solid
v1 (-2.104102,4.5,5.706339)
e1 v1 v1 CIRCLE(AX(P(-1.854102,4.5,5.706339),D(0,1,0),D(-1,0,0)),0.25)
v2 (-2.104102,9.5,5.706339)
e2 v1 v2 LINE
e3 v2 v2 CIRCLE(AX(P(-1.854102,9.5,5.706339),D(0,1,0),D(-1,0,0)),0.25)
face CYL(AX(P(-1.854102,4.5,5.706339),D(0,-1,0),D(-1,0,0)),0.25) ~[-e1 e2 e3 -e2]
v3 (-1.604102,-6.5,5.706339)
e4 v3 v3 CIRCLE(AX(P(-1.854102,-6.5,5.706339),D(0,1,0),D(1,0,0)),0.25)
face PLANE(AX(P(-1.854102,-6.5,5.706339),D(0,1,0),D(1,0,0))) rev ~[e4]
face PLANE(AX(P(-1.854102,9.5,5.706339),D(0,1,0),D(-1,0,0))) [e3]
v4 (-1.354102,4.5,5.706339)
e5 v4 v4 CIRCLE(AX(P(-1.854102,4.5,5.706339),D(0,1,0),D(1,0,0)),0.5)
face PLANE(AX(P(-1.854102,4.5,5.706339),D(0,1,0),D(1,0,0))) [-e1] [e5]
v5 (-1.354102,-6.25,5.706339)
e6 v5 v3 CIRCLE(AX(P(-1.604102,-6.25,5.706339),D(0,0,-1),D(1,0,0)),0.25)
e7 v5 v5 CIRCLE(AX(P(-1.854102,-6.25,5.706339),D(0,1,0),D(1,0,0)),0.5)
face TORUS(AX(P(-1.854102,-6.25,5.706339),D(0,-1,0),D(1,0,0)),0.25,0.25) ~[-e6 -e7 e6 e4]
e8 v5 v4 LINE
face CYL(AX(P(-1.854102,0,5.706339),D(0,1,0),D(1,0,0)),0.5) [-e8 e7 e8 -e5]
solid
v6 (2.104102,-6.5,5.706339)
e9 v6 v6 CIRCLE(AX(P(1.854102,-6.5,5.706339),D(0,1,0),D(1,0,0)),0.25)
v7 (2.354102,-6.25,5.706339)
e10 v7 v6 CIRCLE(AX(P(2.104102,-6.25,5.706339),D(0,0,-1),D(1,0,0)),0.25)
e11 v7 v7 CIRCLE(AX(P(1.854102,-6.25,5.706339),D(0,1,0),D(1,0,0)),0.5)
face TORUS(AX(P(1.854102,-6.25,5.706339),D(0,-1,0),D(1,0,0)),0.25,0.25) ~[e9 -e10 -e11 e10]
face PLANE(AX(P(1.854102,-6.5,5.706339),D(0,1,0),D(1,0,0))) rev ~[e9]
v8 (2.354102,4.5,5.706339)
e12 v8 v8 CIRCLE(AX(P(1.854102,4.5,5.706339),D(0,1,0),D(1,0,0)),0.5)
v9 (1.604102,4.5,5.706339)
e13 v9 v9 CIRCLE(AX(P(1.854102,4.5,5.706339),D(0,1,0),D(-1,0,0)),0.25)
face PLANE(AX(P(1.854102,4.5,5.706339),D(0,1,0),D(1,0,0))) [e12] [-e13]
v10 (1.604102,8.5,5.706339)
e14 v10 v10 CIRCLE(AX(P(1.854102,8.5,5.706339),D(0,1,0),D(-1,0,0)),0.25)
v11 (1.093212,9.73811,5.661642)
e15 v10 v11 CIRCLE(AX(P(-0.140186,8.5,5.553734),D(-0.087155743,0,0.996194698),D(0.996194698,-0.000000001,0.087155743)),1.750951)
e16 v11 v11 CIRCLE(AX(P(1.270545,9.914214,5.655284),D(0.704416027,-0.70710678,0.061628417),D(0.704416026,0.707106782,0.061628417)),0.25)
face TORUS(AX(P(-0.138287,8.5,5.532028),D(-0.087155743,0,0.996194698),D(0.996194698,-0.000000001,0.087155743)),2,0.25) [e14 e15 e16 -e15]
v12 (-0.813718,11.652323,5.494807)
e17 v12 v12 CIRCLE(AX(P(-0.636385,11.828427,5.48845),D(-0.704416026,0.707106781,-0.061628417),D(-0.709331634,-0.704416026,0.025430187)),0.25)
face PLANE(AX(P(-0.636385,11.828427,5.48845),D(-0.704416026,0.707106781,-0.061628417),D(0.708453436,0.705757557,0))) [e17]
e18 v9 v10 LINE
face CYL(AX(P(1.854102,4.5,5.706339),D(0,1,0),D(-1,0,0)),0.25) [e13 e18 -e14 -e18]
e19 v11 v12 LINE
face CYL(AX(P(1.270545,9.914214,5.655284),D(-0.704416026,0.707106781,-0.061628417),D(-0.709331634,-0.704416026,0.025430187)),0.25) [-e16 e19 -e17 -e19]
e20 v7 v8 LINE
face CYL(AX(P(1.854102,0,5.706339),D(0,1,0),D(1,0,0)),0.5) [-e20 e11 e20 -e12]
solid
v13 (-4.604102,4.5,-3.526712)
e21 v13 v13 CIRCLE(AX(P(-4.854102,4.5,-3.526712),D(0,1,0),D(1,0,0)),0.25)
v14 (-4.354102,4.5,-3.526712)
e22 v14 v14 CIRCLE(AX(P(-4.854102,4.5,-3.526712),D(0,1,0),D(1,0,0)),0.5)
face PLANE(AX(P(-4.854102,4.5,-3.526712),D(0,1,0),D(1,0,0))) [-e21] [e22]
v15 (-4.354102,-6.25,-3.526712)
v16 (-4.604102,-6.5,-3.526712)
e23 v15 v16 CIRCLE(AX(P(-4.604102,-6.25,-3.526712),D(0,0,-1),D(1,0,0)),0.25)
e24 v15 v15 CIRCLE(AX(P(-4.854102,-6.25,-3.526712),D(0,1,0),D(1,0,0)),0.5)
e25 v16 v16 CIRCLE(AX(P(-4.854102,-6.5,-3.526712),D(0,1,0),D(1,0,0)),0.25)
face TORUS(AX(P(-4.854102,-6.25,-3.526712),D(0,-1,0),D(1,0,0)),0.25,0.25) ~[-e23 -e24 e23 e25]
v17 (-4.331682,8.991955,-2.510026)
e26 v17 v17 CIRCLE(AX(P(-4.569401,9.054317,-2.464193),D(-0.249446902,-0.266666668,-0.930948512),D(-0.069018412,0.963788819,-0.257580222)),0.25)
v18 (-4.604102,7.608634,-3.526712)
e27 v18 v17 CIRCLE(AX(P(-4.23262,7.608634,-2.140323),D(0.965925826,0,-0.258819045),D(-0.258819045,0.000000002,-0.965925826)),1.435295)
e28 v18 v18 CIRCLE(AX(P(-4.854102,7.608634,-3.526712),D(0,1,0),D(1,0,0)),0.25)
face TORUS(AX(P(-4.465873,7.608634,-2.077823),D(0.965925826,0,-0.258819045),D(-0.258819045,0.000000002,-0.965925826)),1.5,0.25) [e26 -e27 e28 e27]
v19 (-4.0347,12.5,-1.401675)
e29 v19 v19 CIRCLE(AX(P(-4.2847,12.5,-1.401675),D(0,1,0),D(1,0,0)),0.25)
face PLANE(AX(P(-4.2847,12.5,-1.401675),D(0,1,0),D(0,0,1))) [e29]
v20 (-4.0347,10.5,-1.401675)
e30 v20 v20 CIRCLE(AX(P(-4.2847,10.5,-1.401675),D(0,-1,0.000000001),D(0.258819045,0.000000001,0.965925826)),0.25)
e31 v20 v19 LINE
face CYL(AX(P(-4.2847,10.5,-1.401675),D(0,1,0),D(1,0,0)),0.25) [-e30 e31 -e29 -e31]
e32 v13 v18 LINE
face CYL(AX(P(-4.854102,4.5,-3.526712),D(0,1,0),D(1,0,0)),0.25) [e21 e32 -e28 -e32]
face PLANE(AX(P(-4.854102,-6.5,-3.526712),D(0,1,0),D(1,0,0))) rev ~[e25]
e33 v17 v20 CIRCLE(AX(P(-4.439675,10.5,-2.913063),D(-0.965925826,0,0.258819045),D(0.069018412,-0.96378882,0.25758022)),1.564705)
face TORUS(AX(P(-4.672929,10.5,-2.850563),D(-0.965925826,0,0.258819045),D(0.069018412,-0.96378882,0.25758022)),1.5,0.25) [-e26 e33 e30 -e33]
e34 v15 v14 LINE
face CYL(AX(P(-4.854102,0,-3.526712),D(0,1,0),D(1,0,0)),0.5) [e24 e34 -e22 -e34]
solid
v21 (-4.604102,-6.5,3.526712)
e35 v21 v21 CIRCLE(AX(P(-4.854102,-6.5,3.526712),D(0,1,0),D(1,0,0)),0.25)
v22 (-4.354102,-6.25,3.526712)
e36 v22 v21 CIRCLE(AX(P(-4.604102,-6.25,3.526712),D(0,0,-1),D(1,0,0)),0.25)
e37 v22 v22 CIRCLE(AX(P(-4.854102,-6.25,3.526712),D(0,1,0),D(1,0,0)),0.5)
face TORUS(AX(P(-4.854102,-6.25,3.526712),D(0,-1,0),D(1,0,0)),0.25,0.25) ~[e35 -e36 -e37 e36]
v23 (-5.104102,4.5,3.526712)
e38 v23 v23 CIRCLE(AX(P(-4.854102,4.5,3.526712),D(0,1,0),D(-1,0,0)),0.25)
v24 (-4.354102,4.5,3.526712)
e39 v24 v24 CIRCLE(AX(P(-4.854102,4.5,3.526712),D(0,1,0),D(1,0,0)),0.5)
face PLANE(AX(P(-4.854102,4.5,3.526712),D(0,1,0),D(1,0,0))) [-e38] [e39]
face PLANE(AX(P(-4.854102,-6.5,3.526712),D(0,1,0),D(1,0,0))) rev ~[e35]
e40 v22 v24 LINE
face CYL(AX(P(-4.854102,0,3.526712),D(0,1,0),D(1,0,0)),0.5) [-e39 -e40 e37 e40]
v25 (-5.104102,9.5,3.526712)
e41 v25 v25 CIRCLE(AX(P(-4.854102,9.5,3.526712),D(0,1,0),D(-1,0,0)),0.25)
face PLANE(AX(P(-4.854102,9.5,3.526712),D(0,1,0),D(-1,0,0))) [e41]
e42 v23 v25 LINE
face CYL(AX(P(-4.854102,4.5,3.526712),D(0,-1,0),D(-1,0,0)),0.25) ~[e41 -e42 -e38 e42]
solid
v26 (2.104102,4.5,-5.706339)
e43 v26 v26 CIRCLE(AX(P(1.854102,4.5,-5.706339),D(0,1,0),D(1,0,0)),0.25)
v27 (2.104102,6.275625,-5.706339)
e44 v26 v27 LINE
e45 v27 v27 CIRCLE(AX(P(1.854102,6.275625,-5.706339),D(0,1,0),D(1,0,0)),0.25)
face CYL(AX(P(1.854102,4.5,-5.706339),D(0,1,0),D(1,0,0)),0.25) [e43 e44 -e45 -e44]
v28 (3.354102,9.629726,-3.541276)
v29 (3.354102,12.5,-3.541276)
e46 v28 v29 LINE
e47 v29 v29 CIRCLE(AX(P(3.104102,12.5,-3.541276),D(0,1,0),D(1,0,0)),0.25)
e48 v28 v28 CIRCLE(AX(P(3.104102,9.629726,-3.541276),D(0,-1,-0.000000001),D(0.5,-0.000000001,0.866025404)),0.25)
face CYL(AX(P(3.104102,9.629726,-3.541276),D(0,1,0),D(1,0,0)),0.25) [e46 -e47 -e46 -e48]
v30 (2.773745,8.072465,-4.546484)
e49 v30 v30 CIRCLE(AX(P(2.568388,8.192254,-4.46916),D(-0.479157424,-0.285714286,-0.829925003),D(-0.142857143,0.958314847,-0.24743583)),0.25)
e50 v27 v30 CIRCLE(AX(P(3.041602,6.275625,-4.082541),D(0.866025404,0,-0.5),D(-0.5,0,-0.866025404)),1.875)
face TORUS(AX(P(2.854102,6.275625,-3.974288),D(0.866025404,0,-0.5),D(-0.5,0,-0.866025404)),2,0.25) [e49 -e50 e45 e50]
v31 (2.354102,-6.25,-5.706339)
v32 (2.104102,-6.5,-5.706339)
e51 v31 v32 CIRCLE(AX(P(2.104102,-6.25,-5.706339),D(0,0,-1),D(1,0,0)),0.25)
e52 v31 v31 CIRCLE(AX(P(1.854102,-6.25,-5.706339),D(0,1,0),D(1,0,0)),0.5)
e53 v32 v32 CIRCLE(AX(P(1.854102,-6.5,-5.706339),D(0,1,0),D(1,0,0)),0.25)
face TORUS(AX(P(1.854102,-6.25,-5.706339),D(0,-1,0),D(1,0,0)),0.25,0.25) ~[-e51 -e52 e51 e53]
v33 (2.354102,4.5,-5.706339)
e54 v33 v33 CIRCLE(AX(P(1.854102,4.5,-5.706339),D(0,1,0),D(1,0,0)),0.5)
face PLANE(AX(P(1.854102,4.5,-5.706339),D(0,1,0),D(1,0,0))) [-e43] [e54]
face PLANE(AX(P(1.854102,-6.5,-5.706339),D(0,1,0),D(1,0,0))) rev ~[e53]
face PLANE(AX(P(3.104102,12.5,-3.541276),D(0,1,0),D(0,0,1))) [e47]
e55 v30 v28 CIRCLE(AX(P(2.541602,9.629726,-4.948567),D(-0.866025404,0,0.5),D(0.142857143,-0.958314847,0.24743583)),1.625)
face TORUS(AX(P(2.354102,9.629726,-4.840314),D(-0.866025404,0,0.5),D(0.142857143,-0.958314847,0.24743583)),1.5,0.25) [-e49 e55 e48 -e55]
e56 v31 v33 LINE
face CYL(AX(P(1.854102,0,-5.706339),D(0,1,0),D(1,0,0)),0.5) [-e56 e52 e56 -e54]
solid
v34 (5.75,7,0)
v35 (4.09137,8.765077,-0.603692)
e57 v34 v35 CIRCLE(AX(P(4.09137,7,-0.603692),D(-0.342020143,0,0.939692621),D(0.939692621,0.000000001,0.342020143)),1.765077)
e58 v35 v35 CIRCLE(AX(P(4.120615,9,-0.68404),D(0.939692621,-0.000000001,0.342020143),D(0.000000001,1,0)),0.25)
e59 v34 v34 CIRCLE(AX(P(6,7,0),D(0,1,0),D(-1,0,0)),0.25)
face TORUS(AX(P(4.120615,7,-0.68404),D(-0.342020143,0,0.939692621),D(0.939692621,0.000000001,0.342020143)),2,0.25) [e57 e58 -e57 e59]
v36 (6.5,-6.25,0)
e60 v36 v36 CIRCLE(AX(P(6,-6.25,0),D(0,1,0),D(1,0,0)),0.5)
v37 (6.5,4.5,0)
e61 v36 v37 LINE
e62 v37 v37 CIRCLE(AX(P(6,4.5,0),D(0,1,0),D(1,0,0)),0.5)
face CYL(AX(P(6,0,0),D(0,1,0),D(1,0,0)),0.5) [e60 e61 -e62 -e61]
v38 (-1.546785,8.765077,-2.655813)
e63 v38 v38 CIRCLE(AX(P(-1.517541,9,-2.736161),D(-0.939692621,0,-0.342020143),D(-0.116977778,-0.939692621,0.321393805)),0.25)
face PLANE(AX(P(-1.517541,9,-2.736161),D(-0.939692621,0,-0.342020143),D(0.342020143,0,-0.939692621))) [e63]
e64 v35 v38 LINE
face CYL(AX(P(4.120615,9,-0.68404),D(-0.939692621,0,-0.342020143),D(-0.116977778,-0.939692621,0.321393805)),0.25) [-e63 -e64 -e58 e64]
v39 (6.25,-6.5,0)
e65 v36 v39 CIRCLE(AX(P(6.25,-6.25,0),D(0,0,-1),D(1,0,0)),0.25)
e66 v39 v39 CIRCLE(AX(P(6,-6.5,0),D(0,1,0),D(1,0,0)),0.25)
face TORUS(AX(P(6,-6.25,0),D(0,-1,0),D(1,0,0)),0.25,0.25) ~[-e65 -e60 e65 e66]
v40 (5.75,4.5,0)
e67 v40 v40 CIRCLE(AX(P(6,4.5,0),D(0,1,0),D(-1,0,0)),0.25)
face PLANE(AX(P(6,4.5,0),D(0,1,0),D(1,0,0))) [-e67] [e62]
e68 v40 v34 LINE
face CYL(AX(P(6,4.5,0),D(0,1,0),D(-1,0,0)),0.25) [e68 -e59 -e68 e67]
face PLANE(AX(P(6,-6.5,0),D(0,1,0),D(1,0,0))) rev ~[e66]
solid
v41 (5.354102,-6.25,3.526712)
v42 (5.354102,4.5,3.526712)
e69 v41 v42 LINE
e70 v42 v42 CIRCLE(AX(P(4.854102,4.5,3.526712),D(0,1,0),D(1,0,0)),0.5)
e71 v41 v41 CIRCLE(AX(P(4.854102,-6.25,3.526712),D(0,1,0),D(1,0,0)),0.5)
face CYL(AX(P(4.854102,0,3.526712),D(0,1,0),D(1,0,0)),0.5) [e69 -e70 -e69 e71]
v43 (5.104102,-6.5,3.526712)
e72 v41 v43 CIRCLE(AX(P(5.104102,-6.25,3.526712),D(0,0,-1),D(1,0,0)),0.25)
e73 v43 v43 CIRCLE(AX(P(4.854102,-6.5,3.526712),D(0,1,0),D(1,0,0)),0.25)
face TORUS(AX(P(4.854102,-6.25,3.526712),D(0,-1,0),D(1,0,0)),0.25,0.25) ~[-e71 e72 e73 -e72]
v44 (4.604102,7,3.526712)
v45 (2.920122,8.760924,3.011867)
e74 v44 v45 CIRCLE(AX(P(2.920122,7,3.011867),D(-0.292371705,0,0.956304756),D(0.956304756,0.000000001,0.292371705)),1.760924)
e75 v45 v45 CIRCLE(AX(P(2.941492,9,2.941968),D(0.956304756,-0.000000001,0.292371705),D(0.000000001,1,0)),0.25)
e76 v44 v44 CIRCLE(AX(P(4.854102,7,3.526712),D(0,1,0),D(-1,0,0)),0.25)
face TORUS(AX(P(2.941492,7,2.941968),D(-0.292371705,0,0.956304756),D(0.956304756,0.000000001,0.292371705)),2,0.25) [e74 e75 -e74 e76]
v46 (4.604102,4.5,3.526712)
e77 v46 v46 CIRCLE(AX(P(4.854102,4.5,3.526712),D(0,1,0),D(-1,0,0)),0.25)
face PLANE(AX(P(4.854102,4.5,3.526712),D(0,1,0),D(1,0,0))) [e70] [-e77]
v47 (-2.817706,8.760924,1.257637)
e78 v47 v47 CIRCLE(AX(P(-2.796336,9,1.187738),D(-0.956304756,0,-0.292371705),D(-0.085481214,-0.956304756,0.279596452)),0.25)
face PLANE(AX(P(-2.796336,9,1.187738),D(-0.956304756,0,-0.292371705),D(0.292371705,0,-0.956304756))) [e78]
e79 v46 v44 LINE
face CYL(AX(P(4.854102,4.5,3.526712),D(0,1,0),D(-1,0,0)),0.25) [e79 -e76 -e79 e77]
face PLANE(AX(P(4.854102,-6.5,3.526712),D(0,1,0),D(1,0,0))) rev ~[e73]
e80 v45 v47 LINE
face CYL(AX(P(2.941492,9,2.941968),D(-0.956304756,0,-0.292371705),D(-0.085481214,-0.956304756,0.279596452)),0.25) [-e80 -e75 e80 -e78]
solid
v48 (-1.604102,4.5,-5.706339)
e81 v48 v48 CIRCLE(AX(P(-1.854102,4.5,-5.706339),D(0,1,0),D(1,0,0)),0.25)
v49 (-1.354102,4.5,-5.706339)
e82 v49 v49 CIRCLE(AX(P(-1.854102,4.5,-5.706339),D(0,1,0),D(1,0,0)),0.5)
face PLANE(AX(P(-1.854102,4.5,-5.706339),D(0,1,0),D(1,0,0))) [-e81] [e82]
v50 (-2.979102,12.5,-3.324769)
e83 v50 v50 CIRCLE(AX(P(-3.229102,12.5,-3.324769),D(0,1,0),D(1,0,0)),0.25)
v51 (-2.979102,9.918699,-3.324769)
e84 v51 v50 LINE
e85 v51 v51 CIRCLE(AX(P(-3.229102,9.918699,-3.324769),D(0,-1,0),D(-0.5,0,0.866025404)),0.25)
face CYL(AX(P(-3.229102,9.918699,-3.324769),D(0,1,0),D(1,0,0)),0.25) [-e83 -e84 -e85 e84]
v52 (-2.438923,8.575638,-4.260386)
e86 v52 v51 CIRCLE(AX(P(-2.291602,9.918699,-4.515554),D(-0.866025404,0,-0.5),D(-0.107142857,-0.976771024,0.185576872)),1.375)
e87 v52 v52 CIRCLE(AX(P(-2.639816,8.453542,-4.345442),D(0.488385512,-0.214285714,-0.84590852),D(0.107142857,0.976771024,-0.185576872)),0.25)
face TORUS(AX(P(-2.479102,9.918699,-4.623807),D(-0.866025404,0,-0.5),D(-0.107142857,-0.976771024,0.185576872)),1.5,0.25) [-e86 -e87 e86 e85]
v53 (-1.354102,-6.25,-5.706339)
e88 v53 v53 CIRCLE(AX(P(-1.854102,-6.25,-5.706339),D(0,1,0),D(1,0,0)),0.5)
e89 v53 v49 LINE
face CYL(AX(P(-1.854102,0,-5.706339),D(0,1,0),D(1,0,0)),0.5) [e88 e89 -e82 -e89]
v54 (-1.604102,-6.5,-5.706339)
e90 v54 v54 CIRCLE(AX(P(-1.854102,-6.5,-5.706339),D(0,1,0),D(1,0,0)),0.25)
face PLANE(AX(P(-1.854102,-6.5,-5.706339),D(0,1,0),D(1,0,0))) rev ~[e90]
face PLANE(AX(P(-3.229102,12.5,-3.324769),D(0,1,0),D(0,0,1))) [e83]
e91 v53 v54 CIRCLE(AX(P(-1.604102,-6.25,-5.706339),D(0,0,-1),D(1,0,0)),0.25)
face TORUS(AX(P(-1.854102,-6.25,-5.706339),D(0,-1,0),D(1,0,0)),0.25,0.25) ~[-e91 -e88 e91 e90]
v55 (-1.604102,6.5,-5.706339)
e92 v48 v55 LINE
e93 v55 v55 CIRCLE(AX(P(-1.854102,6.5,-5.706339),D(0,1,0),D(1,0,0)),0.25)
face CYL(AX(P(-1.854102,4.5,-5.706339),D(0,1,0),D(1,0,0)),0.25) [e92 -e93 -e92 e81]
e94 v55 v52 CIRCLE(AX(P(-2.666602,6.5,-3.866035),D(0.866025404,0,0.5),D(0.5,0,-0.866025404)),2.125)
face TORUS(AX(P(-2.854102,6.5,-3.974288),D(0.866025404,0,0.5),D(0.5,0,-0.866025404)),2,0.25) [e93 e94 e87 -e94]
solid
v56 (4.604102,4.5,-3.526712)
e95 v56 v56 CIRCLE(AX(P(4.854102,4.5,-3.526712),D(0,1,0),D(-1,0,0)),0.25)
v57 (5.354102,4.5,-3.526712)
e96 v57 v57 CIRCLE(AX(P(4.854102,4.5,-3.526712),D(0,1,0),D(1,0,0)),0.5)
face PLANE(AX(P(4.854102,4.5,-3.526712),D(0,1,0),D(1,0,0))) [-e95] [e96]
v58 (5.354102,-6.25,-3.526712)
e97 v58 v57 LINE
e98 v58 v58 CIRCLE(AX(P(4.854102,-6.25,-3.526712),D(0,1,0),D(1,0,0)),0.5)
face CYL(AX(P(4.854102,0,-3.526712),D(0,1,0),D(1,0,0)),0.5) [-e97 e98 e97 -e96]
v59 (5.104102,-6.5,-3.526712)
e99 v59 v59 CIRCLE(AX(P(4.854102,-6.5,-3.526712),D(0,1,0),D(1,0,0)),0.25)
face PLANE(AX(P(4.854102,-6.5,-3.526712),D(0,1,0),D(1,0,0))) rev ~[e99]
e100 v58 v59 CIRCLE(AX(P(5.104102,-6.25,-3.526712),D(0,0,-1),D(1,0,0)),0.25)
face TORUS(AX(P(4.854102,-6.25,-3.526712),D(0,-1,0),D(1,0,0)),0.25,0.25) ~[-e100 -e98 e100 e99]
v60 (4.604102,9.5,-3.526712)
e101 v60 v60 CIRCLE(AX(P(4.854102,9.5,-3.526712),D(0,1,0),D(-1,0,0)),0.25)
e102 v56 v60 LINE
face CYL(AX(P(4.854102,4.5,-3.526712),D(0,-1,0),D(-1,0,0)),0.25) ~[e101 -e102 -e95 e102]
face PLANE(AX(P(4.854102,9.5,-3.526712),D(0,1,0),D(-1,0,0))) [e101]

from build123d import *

# Parameters (mm, degrees)
EXTRUDE2_DEPTH        = 4.5
EXTRUDE2_DEPTH_BACK   = 6.5
SKETCH1_R             = 0.5
EXTRUDE2_2_DEPTH      = 4.5
EXTRUDE2_2_DEPTH_BACK = 6.5
EXTRUDE2_3_DEPTH      = 4.5
EXTRUDE2_3_DEPTH_BACK = 6.5
EXTRUDE2_4_DEPTH      = 4.5
EXTRUDE2_4_DEPTH_BACK = 6.5
EXTRUDE2_5_DEPTH      = 4.5
EXTRUDE2_5_DEPTH_BACK = 6.5
EXTRUDE2_6_DEPTH      = 4.5
EXTRUDE2_6_DEPTH_BACK = 6.5
EXTRUDE2_7_DEPTH      = 4.5
EXTRUDE2_7_DEPTH_BACK = 6.5
EXTRUDE2_8_DEPTH      = 4.5
EXTRUDE2_8_DEPTH_BACK = 6.5
EXTRUDE2_9_DEPTH      = 4.5
EXTRUDE2_9_DEPTH_BACK = 6.5
SKETCH3_R             = 0.25
EXTRUDE3_DEPTH        = 5
FILLET1_R             = 0.25
FILLET2_R             = 0.25
FILLET3_R             = 0.25
FILLET4_R             = 0.25
FILLET5_R             = 0.25
FILLET6_R             = 0.25
FILLET7_R             = 0.25
FILLET8_R             = 0.25
FILLET9_R             = 0.25
SKETCH5_R             = 0.25
SKETCH7_R             = 0.25
SKETCH9_R             = 0.25
SKETCH12_R            = 0.25
SKETCH14_R            = 0.25
SKETCH16_R            = 0.25


with BuildPart() as part:
    # Sketch1 → Extrude2 (new, two sides: drawn at the far end of the back side and taken through both)
    with BuildSketch(Plane(origin=(0, 0, 0), x_dir=(1, 0, 0), z_dir=(0, 1, 0)).offset(-EXTRUDE2_DEPTH_BACK)):
        with Locations((6, 0)):
            Circle(SKETCH1_R)
    extrude(amount=EXTRUDE2_DEPTH + EXTRUDE2_DEPTH_BACK)

    # Fillet9
    fillet9_edges = [part.edges().sort_by_distance(p)[0] for p in [
        (5.5, -6.5, 0),
    ]]
    fillet(fillet9_edges, radius=FILLET9_R)

    # Sweep3: sweep along a path in Sketch8
    with BuildLine(Plane(origin=(0.701866671, 0, -1.928362829), x_dir=(0.9396926207859082, 0, 0.3420201433256695), z_dir=(-0.3420201433256695, 0, 0.9396926207859082))) as sweep3_path:
        Line((5.638155725, 4.5), (5.638155725, 7))
        ThreePointArc((5.638155725, 7), (5.052369287, 8.414213562), (3.638155725, 9))
        Line((3.638155725, 9), (-2.361844275, 9))
    # Sketch9 → Sweep3 (sweep)
    with BuildSketch(Plane(origin=(0, 4.5, 0), x_dir=(-1, 0, 0), z_dir=(0, 1, 0))):
        with Locations((-6, 0)):
            Circle(SKETCH9_R)
    sweep(path=sweep3_path.line)


with BuildPart() as body_2:
    # Sketch1 → Extrude2 2 (new, two sides: drawn at the far end of the back side and taken through both)
    with BuildSketch(Plane(origin=(0, 0, 0), x_dir=(1, 0, 0), z_dir=(0, 1, 0)).offset(-EXTRUDE2_2_DEPTH_BACK)):
        with Locations((4.854101966, -3.526711514)):
            Circle(SKETCH1_R)
    extrude(amount=EXTRUDE2_2_DEPTH + EXTRUDE2_2_DEPTH_BACK)

    # Fillet8
    fillet8_edges = [body_2.edges().sort_by_distance(p)[0] for p in [
        (4.354101966, -6.5, 3.526711514),
    ]]
    fillet(fillet8_edges, radius=FILLET8_R)

    # Sweep2: sweep along a path in Sketch6
    with BuildLine(Plane(origin=(-0.571121498, 0, 1.868054247), x_dir=(0.9563047559630353, 0, 0.2923717047227373), z_dir=(-0.2923717047227373, 0, 0.9563047559630353))) as sweep2_path:
        Line((5.673111454, 4.5), (5.673111454, 7))
        ThreePointArc((5.673111454, 7), (5.087325016, 8.414213562), (3.673111454, 9))
        Line((3.673111454, 9), (-2.326888546, 9))
    # Sketch7 → Sweep2 (sweep)
    with BuildSketch(Plane(origin=(0, 4.5, 0), x_dir=(-1, 0, 0), z_dir=(0, 1, 0))):
        with Locations((-4.854101966, 3.526711514)):
            Circle(SKETCH7_R)
    sweep(path=sweep2_path.line)


with BuildPart() as body_3:
    # Sketch1 → Extrude2 3 (new, two sides: drawn at the far end of the back side and taken through both)
    with BuildSketch(Plane(origin=(0, 0, 0), x_dir=(1, 0, 0), z_dir=(0, 1, 0)).offset(-EXTRUDE2_3_DEPTH_BACK)):
        with Locations((1.854101966, -5.706339098)):
            Circle(SKETCH1_R)
    extrude(amount=EXTRUDE2_3_DEPTH + EXTRUDE2_3_DEPTH_BACK)

    # Fillet7
    fillet7_edges = [body_3.edges().sort_by_distance(p)[0] for p in [
        (1.354101966, -6.5, 5.706339098),
    ]]
    fillet(fillet7_edges, radius=FILLET7_R)

    # Sweep1: sweep along a path in Sketch4
    with BuildLine(Plane(origin=(-0.481363705, 0, 5.502012327), x_dir=(0.9961946980917457, 0, 0.08715574274765837), z_dir=(-0.08715574274765837, 0, 0.9961946980917457))) as sweep1_path:
        Line((2.344386771, 4.5), (2.344386771, 8.5))
        ThreePointArc((2.344386771, 8.5), (2.192145836, 9.265366865), (1.758600333, 9.914213562))
        Line((1.758600333, 9.914213562), (-0.155613229, 11.828427125))
    # Sketch5 → Sweep1 (sweep)
    with BuildSketch(Plane(origin=(0, 4.5, 0), x_dir=(-1, 0, 0), z_dir=(0, 1, 0))):
        with Locations((-1.854101966, 5.706339098)):
            Circle(SKETCH5_R)
    sweep(path=sweep1_path.line)


with BuildPart() as body_4:
    # Sketch1 → Extrude2 4 (new, two sides: drawn at the far end of the back side and taken through both)
    with BuildSketch(Plane(origin=(0, 0, 0), x_dir=(1, 0, 0), z_dir=(0, 1, 0)).offset(-EXTRUDE2_4_DEPTH_BACK)):
        with Locations((-1.854101966, -5.706339098)):
            Circle(SKETCH1_R)
    extrude(amount=EXTRUDE2_4_DEPTH + EXTRUDE2_4_DEPTH_BACK)



with BuildPart() as body_5:
    # Sketch1 → Extrude2 5 (new, two sides: drawn at the far end of the back side and taken through both)
    with BuildSketch(Plane(origin=(0, 0, 0), x_dir=(1, 0, 0), z_dir=(0, 1, 0)).offset(-EXTRUDE2_5_DEPTH_BACK)):
        with Locations((-4.854101966, -3.526711514)):
            Circle(SKETCH1_R)
    extrude(amount=EXTRUDE2_5_DEPTH + EXTRUDE2_5_DEPTH_BACK)


with BuildPart() as body_6:
    # Sketch1 → Extrude2 6 (new, two sides: drawn at the far end of the back side and taken through both)
    with BuildSketch(Plane(origin=(0, 0, 0), x_dir=(1, 0, 0), z_dir=(0, 1, 0)).offset(-EXTRUDE2_6_DEPTH_BACK)):
        with Locations((-4.854101966, 3.526711514)):
            Circle(SKETCH1_R)
    extrude(amount=EXTRUDE2_6_DEPTH + EXTRUDE2_6_DEPTH_BACK)

    # Fillet4
    fillet4_edges = [body_6.edges().sort_by_distance(p)[0] for p in [
        (-5.354101966, -6.5, -3.526711514),
    ]]
    fillet(fillet4_edges, radius=FILLET4_R)

    # Sweep6: sweep along a path in Sketch15
    with BuildLine(Plane(origin=(-3.647260912, 0, 0.977280616), x_dir=(0.258819045102518, 0, 0.9659258262890691), z_dir=(-0.9659258262890691, 0, 0.258819045102518))) as sweep6_path:
        Line((-4.662875769, 4.5), (-4.662875769, 7.608633541))
        ThreePointArc((-4.662875769, 7.608633541), (-4.356609407, 8.516928647), (-3.562875769, 9.054316771))
        ThreePointArc((-3.562875769, 9.054316771), (-2.76914213, 9.591704894), (-2.462875769, 10.5))
        Line((-2.462875769, 10.5), (-2.462875769, 12.5))
    # Sketch16 → Sweep6 (sweep)
    with BuildSketch(Plane(origin=(0, 4.5, 0), x_dir=(1, 0, 0), z_dir=(0, 1, 0))):
        with Locations((-4.854101966, 3.526711514)):
            Circle(SKETCH16_R)
    sweep(path=sweep6_path.line)


with BuildPart() as body_7:
    # Sketch1 → Extrude2 7 (new, two sides: drawn at the far end of the back side and taken through both)
    with BuildSketch(Plane(origin=(0, 0, 0), x_dir=(1, 0, 0), z_dir=(0, 1, 0)).offset(-EXTRUDE2_7_DEPTH_BACK)):
        with Locations((-1.854101966, 5.706339098)):
            Circle(SKETCH1_R)
    extrude(amount=EXTRUDE2_7_DEPTH + EXTRUDE2_7_DEPTH_BACK)

    # Fillet3
    fillet3_edges = [body_7.edges().sort_by_distance(p)[0] for p in [
        (-2.354101966, -6.5, -5.706339098),
    ]]
    fillet(fillet3_edges, radius=FILLET3_R)

    # Sweep5: sweep along a path in Sketch13
    with BuildLine(Plane(origin=(-3.861493785, 0, -2.229434476), x_dir=(0.5000000000000009, 0, -0.866025403784438), z_dir=(0.8660254037844382, 0, 0.500000000000001))) as sweep5_path:
        Line((4.014783638, 4.5), (4.014783638, 6.5))
        ThreePointArc((4.014783638, 6.5), (3.573171083, 7.753566341), (2.443355067, 8.453542047))
        ThreePointArc((2.443355067, 8.453542047), (1.595993054, 8.978523827), (1.264783638, 9.918698583))
        Line((1.264783638, 9.918698583), (1.264783638, 12.5))
    # Sketch14 → Sweep5 (sweep)
    with BuildSketch(Plane(origin=(0, 4.5, 0), x_dir=(1, 0, 0), z_dir=(0, 1, 0))):
        with Locations((-1.854101966, 5.706339098)):
            Circle(SKETCH14_R)
    sweep(path=sweep5_path.line)


with BuildPart() as body_8:
    # Sketch1 → Extrude2 8 (new, two sides: drawn at the far end of the back side and taken through both)
    with BuildSketch(Plane(origin=(0, 0, 0), x_dir=(1, 0, 0), z_dir=(0, 1, 0)).offset(-EXTRUDE2_8_DEPTH_BACK)):
        with Locations((1.854101966, 5.706339098)):
            Circle(SKETCH1_R)
    extrude(amount=EXTRUDE2_8_DEPTH + EXTRUDE2_8_DEPTH_BACK)

    # Fillet2
    fillet2_edges = [body_8.edges().sort_by_distance(p)[0] for p in [
        (1.354101966, -6.5, -5.706339098),
    ]]
    fillet(fillet2_edges, radius=FILLET2_R)

    # Sweep4: sweep along a path in Sketch10
    with BuildLine(Plane(origin=(3.861493785, 0, -2.229434476), x_dir=(-0.500000000000001, 0, -0.8660254037844382), z_dir=(0.8660254037844382, 0, -0.500000000000001))) as sweep4_path:
        Line((4.014783638, 4.5), (4.014783638, 6.275624505))
        ThreePointArc((4.014783638, 6.275624505), (3.61835109, 7.470853114), (2.58621221, 8.1922542))
        ThreePointArc((2.58621221, 8.1922542), (1.81210805, 8.733305014), (1.514783638, 9.629726471))
        Line((1.514783638, 9.629726471), (1.514783638, 12.5))
    # Sketch12 → Sweep4 (sweep)
    with BuildSketch(Plane(origin=(0, 4.5, 0), x_dir=(1, 0, 0), z_dir=(0, 1, 0))):
        with Locations((1.854101966, 5.706339098)):
            Circle(SKETCH12_R)
    sweep(path=sweep4_path.line)


with BuildPart() as body_9:
    # Sketch1 → Extrude2 9 (new, two sides: drawn at the far end of the back side and taken through both)
    with BuildSketch(Plane(origin=(0, 0, 0), x_dir=(1, 0, 0), z_dir=(0, 1, 0)).offset(-EXTRUDE2_9_DEPTH_BACK)):
        with Locations((4.854101966, 3.526711514)):
            Circle(SKETCH1_R)
    extrude(amount=EXTRUDE2_9_DEPTH + EXTRUDE2_9_DEPTH_BACK)


with BuildPart() as body_4_1:
    add(body_4.part)

    add(body_5.part)  # Extrude3 merges body 5

    add(body_9.part)  # Extrude3 merges body 9
    # Sketch3 → Extrude3 (add)
    with BuildSketch(Plane(origin=(0, 4.5, 0), x_dir=(-1, 0, 0), z_dir=(0, 1, 0))):
        with Locations((4.854101966, 3.526711514)):
            Circle(SKETCH3_R)
        with Locations((1.854101966, 5.706339098)):
            Circle(SKETCH3_R)
        with Locations((-4.854101966, -3.526711514)):
            Circle(SKETCH3_R)
    extrude(amount=EXTRUDE3_DEPTH)

    # Fillet1
    fillet1_edges = [body_4_1.edges().sort_by_distance(p)[0] for p in [
        (4.354101966, -6.5, -3.526711514),
    ]]
    fillet(fillet1_edges, radius=FILLET1_R)

    # Fillet5
    fillet5_edges = [body_4_1.edges().sort_by_distance(p)[0] for p in [
        (-5.354101966, -6.5, 3.526711514),
    ]]
    fillet(fillet5_edges, radius=FILLET5_R)

    # Fillet6
    fillet6_edges = [body_4_1.edges().sort_by_distance(p)[0] for p in [
        (-2.354101966, -6.5, 5.706339098),
    ]]
    fillet(fillet6_edges, radius=FILLET6_R)


solid = Compound([part.part, body_2.part, body_3.part, body_6.part, body_7.part, body_8.part, body_4_1.part])
